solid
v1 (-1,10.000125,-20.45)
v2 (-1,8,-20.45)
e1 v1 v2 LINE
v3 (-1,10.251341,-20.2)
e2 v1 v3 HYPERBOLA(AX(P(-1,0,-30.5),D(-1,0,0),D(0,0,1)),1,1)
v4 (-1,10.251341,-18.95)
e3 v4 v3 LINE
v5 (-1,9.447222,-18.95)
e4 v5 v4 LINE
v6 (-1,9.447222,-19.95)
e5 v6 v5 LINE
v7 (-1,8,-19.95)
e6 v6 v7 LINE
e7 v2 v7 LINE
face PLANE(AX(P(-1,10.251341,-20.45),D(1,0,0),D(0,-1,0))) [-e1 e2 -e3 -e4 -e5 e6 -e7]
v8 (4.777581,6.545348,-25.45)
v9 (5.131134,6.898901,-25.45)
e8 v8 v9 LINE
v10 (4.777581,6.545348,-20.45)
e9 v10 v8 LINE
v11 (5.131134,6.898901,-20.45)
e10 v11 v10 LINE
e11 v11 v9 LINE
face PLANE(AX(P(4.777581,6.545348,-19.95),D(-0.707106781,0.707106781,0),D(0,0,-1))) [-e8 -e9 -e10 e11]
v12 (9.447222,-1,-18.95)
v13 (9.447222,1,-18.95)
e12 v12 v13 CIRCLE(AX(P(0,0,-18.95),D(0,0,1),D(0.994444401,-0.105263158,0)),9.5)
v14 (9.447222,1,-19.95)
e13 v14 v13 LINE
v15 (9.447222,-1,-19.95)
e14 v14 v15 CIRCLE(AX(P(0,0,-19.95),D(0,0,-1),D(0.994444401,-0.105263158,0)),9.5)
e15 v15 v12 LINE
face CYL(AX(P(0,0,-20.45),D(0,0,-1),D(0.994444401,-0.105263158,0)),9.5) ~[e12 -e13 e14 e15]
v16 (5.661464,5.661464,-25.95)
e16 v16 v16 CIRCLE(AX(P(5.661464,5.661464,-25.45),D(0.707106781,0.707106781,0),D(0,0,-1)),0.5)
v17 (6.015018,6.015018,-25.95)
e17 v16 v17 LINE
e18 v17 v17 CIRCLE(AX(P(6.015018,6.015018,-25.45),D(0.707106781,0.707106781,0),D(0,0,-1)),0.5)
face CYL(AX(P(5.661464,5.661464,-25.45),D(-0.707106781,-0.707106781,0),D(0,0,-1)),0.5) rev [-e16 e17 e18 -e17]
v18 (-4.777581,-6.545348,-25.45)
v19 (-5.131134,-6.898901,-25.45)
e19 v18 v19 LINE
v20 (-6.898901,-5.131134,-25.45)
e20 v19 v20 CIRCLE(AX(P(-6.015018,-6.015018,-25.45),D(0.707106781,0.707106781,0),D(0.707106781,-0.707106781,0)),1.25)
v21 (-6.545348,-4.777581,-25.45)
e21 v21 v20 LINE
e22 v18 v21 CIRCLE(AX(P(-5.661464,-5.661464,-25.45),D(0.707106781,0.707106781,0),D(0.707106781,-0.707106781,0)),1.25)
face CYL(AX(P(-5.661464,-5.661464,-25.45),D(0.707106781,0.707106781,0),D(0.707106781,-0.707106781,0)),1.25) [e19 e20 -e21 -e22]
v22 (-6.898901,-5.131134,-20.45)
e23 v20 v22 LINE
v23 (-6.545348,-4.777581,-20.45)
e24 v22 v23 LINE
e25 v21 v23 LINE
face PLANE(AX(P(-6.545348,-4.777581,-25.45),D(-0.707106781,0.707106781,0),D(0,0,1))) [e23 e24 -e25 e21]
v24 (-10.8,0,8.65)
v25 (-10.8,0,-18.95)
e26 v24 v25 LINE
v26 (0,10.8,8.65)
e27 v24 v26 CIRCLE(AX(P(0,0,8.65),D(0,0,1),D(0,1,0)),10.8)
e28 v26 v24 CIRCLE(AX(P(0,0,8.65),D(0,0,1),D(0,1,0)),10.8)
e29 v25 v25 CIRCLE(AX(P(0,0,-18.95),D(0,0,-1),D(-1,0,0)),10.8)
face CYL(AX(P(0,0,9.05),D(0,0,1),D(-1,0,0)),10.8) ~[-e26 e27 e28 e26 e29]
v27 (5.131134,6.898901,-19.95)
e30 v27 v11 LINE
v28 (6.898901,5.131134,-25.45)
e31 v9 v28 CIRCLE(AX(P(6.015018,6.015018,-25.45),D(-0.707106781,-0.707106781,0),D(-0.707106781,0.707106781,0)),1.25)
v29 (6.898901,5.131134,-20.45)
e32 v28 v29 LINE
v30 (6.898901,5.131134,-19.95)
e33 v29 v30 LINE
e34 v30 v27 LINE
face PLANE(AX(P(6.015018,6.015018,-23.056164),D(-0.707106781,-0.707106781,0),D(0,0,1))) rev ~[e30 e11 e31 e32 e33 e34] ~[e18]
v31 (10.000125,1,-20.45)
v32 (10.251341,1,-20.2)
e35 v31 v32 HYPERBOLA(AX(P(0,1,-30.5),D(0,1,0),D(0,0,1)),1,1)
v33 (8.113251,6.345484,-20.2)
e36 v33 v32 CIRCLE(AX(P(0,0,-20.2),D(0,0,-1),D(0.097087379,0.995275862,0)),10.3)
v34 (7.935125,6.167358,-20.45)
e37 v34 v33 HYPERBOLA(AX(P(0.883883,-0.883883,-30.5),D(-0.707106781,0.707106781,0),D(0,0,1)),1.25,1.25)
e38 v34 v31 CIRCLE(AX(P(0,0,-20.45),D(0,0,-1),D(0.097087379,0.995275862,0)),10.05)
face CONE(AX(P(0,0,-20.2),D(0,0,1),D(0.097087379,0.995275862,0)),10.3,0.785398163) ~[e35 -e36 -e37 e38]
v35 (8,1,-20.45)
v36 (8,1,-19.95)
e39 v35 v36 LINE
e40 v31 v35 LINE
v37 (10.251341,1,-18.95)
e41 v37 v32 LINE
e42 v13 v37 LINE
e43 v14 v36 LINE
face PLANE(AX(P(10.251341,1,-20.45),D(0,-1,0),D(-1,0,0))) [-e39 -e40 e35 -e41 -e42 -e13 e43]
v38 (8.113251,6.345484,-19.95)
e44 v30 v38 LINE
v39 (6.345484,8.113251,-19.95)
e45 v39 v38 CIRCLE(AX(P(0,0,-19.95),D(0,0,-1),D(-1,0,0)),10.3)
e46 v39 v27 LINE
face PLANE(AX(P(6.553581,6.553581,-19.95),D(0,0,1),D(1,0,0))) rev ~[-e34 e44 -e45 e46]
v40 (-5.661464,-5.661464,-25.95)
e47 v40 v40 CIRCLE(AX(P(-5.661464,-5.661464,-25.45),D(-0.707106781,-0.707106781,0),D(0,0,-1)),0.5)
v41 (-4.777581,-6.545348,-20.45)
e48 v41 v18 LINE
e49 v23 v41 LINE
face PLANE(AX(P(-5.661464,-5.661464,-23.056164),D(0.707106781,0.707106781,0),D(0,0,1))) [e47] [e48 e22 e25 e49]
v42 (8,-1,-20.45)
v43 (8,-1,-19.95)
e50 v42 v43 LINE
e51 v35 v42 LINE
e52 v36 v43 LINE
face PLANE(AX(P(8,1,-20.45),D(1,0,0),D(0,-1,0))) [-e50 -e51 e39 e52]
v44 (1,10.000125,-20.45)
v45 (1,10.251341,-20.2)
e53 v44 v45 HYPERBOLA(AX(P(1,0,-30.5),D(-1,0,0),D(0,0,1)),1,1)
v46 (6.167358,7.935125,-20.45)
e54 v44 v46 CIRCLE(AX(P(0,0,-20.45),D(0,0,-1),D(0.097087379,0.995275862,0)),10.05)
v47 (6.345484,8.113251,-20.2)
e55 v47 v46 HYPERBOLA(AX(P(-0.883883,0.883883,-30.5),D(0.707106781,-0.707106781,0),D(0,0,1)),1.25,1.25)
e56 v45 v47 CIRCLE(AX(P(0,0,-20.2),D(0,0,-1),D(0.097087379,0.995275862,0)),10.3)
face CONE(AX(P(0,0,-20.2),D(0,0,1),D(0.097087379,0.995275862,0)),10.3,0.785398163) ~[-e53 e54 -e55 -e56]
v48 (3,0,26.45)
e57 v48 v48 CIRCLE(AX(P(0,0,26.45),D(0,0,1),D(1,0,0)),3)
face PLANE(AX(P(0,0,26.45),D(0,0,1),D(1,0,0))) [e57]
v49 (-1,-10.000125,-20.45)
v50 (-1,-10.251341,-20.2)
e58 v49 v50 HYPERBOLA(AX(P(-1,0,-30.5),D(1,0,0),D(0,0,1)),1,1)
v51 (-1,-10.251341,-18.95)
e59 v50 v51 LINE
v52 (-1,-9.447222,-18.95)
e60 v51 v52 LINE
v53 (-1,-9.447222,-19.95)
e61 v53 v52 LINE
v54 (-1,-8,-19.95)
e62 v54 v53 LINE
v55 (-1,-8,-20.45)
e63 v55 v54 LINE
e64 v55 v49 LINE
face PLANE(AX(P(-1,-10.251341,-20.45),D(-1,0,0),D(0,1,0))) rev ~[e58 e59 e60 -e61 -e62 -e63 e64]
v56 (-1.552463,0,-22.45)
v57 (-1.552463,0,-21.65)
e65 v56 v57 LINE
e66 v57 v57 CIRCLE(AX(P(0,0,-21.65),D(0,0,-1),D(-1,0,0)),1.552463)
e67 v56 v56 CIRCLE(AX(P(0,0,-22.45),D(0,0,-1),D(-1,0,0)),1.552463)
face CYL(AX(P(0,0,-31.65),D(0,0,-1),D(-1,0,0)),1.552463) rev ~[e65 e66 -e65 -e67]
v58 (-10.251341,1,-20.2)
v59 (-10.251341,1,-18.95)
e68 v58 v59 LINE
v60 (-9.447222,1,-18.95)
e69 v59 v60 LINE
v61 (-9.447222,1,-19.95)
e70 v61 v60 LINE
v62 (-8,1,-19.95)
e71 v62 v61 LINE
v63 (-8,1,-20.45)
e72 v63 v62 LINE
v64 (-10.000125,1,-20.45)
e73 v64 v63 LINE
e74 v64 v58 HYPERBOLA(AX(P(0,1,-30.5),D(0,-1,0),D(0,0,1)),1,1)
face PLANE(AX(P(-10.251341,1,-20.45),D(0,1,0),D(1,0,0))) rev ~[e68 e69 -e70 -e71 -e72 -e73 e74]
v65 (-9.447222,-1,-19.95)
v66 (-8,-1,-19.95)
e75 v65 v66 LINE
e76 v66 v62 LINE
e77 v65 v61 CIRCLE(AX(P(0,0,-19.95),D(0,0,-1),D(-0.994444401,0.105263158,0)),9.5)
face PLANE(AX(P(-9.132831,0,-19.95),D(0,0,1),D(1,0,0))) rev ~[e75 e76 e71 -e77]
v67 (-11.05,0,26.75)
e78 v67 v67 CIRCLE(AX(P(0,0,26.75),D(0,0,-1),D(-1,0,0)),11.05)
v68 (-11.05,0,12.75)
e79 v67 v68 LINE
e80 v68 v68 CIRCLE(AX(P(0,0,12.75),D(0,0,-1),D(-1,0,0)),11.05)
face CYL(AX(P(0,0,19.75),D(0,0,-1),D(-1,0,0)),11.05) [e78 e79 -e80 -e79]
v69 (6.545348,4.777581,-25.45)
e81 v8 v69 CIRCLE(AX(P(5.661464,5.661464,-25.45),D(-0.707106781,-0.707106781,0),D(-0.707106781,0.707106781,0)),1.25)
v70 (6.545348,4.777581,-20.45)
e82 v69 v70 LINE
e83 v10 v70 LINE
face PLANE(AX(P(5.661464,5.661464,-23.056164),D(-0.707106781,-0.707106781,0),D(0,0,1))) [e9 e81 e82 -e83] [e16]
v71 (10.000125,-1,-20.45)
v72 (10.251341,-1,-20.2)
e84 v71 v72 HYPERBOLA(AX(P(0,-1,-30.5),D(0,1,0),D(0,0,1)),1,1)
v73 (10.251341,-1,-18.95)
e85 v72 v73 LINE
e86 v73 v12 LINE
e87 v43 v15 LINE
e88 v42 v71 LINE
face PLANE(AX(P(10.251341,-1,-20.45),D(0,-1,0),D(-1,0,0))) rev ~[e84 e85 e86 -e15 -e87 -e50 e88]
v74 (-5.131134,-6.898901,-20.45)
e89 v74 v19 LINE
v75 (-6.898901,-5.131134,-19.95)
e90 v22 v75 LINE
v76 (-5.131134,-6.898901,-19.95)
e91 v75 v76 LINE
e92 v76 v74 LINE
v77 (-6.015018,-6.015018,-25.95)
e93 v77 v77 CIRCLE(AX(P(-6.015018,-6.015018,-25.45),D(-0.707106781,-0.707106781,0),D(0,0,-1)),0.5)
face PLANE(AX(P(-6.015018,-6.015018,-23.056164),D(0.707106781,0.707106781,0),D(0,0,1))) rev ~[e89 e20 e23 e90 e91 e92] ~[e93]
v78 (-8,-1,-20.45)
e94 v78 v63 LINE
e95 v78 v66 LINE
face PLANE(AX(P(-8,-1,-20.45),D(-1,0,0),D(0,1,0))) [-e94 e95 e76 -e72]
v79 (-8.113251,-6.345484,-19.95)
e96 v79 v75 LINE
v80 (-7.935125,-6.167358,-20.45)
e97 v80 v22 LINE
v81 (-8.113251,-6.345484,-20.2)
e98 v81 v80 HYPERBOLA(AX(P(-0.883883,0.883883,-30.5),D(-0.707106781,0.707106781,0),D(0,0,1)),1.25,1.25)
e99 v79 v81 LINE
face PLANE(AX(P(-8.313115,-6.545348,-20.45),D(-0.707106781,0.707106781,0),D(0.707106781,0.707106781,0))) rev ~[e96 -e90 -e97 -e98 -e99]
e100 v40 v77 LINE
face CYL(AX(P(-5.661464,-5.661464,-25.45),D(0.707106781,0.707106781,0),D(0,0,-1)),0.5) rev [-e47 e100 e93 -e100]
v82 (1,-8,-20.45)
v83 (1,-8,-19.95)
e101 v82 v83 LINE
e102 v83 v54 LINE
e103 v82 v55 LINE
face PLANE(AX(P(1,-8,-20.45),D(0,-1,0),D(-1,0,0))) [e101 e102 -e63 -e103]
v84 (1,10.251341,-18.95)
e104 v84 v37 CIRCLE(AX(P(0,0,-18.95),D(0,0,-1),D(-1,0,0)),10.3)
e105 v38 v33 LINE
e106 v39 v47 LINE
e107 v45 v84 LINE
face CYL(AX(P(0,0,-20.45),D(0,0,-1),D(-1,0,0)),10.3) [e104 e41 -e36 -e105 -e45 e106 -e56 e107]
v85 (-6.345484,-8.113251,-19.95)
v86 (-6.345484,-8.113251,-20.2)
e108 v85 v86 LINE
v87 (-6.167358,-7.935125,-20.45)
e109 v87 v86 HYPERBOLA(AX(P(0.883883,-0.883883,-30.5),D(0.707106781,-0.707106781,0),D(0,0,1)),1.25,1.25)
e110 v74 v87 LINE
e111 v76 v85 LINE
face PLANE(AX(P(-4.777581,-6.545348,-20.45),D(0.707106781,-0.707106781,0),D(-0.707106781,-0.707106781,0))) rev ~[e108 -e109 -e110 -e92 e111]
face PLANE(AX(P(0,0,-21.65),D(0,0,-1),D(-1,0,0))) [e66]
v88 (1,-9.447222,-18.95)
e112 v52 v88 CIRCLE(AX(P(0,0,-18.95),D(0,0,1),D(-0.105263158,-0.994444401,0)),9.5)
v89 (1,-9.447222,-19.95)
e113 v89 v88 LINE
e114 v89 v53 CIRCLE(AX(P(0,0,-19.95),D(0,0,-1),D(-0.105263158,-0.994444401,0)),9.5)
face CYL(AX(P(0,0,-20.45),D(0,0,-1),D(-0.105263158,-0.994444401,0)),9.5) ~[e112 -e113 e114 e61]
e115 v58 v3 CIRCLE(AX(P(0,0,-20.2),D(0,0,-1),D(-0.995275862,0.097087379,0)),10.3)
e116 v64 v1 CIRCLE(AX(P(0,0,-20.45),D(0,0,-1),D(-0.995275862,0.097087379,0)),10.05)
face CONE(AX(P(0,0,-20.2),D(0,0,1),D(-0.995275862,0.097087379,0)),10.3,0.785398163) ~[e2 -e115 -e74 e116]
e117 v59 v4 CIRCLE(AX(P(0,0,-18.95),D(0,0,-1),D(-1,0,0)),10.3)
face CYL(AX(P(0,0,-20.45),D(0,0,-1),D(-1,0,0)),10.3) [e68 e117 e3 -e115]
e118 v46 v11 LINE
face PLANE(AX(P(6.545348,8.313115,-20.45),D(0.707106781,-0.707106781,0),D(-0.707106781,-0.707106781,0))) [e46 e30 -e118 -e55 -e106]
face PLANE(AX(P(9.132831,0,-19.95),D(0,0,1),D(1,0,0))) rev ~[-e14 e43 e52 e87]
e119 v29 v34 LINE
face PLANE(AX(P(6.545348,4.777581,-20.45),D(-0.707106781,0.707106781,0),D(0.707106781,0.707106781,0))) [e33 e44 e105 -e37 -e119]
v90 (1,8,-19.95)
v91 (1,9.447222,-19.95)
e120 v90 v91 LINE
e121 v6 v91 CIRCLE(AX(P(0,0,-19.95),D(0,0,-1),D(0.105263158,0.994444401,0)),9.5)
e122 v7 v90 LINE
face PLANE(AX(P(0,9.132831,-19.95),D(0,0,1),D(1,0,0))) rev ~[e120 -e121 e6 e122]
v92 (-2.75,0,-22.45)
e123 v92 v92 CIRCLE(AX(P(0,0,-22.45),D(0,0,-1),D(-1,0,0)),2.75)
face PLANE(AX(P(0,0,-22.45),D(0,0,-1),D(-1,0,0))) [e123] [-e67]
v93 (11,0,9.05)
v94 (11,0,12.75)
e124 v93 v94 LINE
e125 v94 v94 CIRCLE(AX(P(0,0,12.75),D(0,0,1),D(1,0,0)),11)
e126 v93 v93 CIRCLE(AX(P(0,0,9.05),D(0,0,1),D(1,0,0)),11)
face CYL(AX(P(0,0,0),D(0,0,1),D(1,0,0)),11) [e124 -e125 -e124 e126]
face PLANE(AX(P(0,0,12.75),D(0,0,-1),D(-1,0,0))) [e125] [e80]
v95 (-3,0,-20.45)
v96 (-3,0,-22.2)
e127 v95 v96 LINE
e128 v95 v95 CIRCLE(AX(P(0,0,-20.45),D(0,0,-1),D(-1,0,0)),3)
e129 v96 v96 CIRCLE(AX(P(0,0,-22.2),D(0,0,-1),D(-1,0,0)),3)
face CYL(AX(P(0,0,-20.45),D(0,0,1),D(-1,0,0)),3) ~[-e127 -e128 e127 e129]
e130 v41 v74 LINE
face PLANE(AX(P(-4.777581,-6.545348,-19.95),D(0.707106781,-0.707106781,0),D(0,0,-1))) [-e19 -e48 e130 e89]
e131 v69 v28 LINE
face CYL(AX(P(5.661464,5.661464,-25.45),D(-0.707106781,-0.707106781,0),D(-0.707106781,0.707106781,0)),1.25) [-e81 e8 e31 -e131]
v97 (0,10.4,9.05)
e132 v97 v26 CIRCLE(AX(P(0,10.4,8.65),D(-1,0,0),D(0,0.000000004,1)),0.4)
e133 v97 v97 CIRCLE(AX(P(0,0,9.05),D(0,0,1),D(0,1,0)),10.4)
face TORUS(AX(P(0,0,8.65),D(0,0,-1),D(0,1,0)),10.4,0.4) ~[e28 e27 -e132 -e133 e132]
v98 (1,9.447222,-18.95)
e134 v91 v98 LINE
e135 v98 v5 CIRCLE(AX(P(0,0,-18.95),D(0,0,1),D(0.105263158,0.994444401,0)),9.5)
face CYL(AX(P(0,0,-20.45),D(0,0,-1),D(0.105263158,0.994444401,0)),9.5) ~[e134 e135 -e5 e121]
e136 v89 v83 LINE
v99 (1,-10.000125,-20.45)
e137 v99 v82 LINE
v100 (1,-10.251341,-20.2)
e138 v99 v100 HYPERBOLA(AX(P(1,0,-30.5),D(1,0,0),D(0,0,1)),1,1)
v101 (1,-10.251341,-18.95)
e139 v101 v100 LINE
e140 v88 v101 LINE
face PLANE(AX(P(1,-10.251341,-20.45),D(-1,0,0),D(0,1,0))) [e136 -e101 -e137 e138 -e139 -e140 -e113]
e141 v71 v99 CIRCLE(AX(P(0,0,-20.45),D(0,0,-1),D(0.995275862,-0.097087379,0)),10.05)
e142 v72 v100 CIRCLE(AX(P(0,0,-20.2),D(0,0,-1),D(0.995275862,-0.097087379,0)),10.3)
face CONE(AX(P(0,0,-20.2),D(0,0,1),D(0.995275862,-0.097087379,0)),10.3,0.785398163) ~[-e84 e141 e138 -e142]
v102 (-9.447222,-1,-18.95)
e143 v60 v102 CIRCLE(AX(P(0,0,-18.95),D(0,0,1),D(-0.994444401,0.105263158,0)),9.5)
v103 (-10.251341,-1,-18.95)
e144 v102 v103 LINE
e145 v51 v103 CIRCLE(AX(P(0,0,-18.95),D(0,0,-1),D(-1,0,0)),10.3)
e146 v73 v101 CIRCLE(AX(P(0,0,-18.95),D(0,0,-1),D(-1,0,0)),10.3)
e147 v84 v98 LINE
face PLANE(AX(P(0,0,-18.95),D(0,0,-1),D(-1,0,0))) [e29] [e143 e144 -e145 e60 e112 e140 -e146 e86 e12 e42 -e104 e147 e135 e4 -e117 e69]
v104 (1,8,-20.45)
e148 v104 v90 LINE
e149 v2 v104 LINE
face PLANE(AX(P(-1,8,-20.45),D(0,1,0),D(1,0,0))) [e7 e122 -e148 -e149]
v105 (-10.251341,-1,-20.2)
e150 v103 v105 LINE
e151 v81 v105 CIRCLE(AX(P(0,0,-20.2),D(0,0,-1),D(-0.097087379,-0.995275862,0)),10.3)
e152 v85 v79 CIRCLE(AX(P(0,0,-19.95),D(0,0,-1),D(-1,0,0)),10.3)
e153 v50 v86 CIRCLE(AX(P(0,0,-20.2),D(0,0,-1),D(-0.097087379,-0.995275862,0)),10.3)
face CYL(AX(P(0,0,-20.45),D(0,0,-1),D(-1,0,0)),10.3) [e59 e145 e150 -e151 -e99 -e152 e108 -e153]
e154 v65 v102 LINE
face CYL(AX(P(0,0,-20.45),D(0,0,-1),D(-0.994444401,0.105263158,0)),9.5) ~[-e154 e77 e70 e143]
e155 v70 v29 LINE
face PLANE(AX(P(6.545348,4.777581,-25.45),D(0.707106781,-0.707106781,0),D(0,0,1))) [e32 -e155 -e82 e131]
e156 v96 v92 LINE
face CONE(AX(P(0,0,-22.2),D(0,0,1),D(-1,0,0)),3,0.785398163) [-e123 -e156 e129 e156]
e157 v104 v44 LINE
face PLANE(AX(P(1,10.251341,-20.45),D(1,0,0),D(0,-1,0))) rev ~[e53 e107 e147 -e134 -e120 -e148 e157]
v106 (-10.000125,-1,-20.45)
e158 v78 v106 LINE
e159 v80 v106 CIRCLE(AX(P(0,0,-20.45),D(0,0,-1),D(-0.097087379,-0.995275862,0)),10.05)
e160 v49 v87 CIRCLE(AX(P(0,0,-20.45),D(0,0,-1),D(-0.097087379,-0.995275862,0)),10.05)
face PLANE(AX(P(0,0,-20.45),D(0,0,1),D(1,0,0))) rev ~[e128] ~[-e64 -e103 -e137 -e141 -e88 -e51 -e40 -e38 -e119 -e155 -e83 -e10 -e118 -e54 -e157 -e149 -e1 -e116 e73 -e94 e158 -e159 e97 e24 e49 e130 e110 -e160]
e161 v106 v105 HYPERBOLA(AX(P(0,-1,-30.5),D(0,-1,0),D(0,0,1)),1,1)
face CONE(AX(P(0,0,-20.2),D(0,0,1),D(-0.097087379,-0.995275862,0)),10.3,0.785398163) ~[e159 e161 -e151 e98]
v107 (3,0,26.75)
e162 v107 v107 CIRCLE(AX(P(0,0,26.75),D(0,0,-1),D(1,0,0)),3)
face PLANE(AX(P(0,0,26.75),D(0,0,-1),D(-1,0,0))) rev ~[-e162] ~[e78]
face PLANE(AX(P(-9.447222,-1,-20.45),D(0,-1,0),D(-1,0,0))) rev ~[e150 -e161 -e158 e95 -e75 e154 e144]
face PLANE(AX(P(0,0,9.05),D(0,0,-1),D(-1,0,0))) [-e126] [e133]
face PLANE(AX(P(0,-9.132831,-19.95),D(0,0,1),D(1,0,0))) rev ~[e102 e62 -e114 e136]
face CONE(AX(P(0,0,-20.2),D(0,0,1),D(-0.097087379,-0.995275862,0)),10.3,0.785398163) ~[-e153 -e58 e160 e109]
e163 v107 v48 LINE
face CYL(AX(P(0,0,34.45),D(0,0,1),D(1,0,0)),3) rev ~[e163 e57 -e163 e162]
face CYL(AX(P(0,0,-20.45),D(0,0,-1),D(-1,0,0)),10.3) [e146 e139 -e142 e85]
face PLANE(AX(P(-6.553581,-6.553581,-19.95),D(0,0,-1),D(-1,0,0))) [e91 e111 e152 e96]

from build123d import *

# Parameters (mm, degrees)
SKETCH1_R           = 11
BOSS_EXTRUDE1_DEPTH = 20.45
SKETCH2_R           = 11
SKETCH2_R_2         = 10.8
CUT_EXTRUDE1_DEPTH  = 30.5
SKETCH5_R           = 0.8
CUT_EXTRUDE2_DEPTH  = 3
BOSS_EXTRUDE2_DEPTH = 2
SKETCH7_R           = 3
BOSS_EXTRUDE3_DEPTH = 12
CUT_EXTRUDE3_DEPTH  = 1
CIRPATTERN1_COUNT   = 4
CIRPATTERN2_COUNT   = 4
SKETCH11_R          = 5
BOSS_EXTRUDE4_DEPTH = 0.25
SKETCH12_R          = 11.05
BOSS_EXTRUDE5_DEPTH = 7
SKETCH14_R          = 1.0375
CUT_EXTRUDE4_DEPTH  = 3
SKETCH16_R          = 10.8
SKETCH16_R_2        = 10.3
CUT_EXTRUDE5_DEPTH  = 1.5
CUT_EXTRUDE6_DEPTH  = 0.5
CUT_EXTRUDE7_DEPTH  = 1.5
CHAMFER1_SIZE       = 0.25
CUT_EXTRUDE8_DEPTH  = 0.5
SKETCH20_R          = 0.5
BOSS_EXTRUDE7_DEPTH = 0.5
CIRPATTERN4_COUNT   = 2
SKETCH22_R          = 3
BOSS_EXTRUDE8_DEPTH = 2
SKETCH23_R          = 1
BOSS_EXTRUDE9_DEPTH = 9.2
CHAMFER2_SIZE       = 0.25
SKETCH24_R          = 1.552462654
CUT_EXTRUDE9_DEPTH  = 10
SKETCH25_R          = 3
CUT_EXTRUDE10_DEPTH = 8


with BuildPart() as part:
    # Sketch1 → Boss-Extrude1 (new body, symmetric)
    with BuildSketch(Plane.XY):
        Circle(SKETCH1_R)
    extrude(amount=BOSS_EXTRUDE1_DEPTH, both=True)

    # Sketch2 → Cut-Extrude1 (cut, through all)
    with BuildSketch(Plane(origin=(0, 0, 9.05), x_dir=(-1, 0, 0), z_dir=(0, 0, -1))):
        Circle(SKETCH2_R)
        Circle(SKETCH2_R_2, mode=Mode.SUBTRACT)
    extrude(amount=CUT_EXTRUDE1_DEPTH, mode=Mode.SUBTRACT)

    # Sketch5 → Cut-Extrude2 (cut)
    with BuildSketch(Plane.XY.offset(20.45)):
        with Locations((-6.363961031, 6.363961031)):
            Circle(SKETCH5_R)
        with Locations((6.363961031, 6.363961031)):
            Circle(SKETCH5_R)
        with Locations((6.363961031, -6.363961031)):
            Circle(SKETCH5_R)
        with Locations((-6.363961031, -6.363961031)):
            Circle(SKETCH5_R)
        with BuildLine():
            Line((-1.5, 9), (-1.5, 10.897247359))
            ThreePointArc((-1.5, 10.897247359), (0, 11), (1.5, 10.897247359))
            Line((1.5, 10.897247359), (1.5, 9))
            ThreePointArc((1.5, 9), (0, 7.5), (-1.5, 9))
        make_face()
        with BuildLine():
            Line((9, 1.5), (10.897247359, 1.5))
            ThreePointArc((10.897247359, 1.5), (11, 0), (10.897247359, -1.5))
            Line((10.897247359, -1.5), (9, -1.5))
            ThreePointArc((9, -1.5), (7.5, 0), (9, 1.5))
        make_face()
        with BuildLine():
            Line((1.5, -9), (1.5, -10.897247359))
            ThreePointArc((1.5, -10.897247359), (0, -11), (-1.5, -10.897247359))
            Line((-1.5, -10.897247359), (-1.5, -9))
            ThreePointArc((-1.5, -9), (0, -7.5), (1.5, -9))
        make_face()
        with BuildLine():
            Line((-9, -1.5), (-10.897247359, -1.5))
            ThreePointArc((-10.897247359, -1.5), (-11, 0), (-10.897247359, 1.5))
            Line((-10.897247359, 1.5), (-9, 1.5))
            ThreePointArc((-9, 1.5), (-7.5, 0), (-9, -1.5))
        make_face()
    extrude(amount=-CUT_EXTRUDE2_DEPTH, mode=Mode.SUBTRACT)

    # Sketch3 → Cut-Revolve3 (revolve, cut)
    with BuildSketch(Plane(origin=(0, 0, 0), x_dir=(0, 0, -1), z_dir=(1, 0, 0))):
        with BuildLine():
            ThreePointArc((-9.05, 10.4), (-8.932842712, 10.682842712), (-8.65, 10.8))
            Line((-8.65, 10.8), (-9.05, 10.8))
            Line((-9.05, 10.8), (-9.05, 10.4))
        make_face()
    revolve(axis=Axis((0, 0, -27.758521673), (0, 0, 1)), mode=Mode.SUBTRACT)

    # Sketch6 → Boss-Extrude2 (add)
    with BuildSketch(Plane.XY.offset(20.45)):
        with BuildLine():
            Line((-6, -3.605551275), (-6, 3.605551275))
            ThreePointArc((-6, 3.605551275), (0, 7), (6, 3.605551275))
            Line((6, 3.605551275), (6, -3.605551275))
            ThreePointArc((6, -3.605551275), (0, -7), (-6, -3.605551275))
        make_face()
    extrude(amount=BOSS_EXTRUDE2_DEPTH)

    # Sketch7 → Boss-Extrude3 (add)
    with BuildSketch(Plane.XY.offset(22.45)):
        Circle(SKETCH7_R)
    extrude(amount=BOSS_EXTRUDE3_DEPTH)

    # Sketch9 → Revolve1 (revolve)
    with BuildSketch(Plane(origin=(0, 9, 0), x_dir=(1, 0, 0), z_dir=(0, 1, 0))):
        with BuildLine():
            Line((0, -17.45), (0, -18.65))
            Line((0, -18.65), (0.85, -18.65))
            ThreePointArc((0.85, -18.65), (1.168198052, -18.518198052), (1.3, -18.2))
            Line((1.3, -18.2), (1.3, -17.45))
            Line((1.3, -17.45), (0, -17.45))
        make_face()
    revolve1 = revolve(axis=Axis((0, 9, 17.45), (0, 0, 1)))

    # Sketch10 → Cut-Extrude3 (cut)
    with BuildSketch(Plane.XY.offset(18.65)):
        with BuildLine():
            Line((0.15, 9.15), (1.291317157, 9.15))
            ThreePointArc((1.291317157, 9.15), (1.3, 9), (1.291317157, 8.85))
            Line((1.291317157, 8.85), (0.15, 8.85))
            Line((0.15, 8.85), (-0.15, 8.85))
            Line((-0.15, 8.85), (-1.291317157, 8.85))
            ThreePointArc((-1.291317157, 8.85), (-1.3, 9), (-1.291317157, 9.15))
            Line((-1.291317157, 9.15), (-0.15, 9.15))
            Line((-0.15, 9.15), (0.15, 9.15))
        make_face()
    cut_extrude3 = extrude(amount=-CUT_EXTRUDE3_DEPTH, mode=Mode.SUBTRACT)

    # CirPattern1: Revolve1 ×4 about axis
    cirpattern1_axis = Axis((0, 0, 0), (0, 0, 1))
    for i in range(1, CIRPATTERN1_COUNT):
        add(revolve1.rotate(cirpattern1_axis, i * 360 / CIRPATTERN1_COUNT))

    # CirPattern2: Cut-Extrude3 ×4 about axis
    cirpattern2_axis = Axis((0, 0, -27.758521673), (0, 0, 1))
    for i in range(1, CIRPATTERN2_COUNT):
        add(cut_extrude3.rotate(cirpattern2_axis, i * 360 / CIRPATTERN2_COUNT), mode=Mode.SUBTRACT)

    # Sketch11 → Boss-Extrude4 (add)
    with BuildSketch(Plane.XY.offset(22.45)):
        Circle(SKETCH11_R)
    extrude(amount=BOSS_EXTRUDE4_DEPTH)

    # Sketch12 → Boss-Extrude5 (add, symmetric)
    with BuildSketch(Plane(origin=(0, 0, 19.75), x_dir=(-1, 0, 0), z_dir=(0, 0, -1))):
        Circle(SKETCH12_R)
    extrude(amount=BOSS_EXTRUDE5_DEPTH, both=True)

    # Sketch14 → Cut-Extrude4 (cut, symmetric)
    with BuildSketch(Plane(origin=(0, 0, 0), x_dir=(0, 0, -1), z_dir=(1, 0, 0))):
        with Locations((-30.35, 0)):
            Circle(SKETCH14_R)
    extrude(amount=CUT_EXTRUDE4_DEPTH, both=True, mode=Mode.SUBTRACT)

    # Sketch16 → Cut-Extrude5 (cut)
    with BuildSketch(Plane(origin=(0, 0, -20.45), x_dir=(-1, 0, 0), z_dir=(0, 0, -1))):
        Circle(SKETCH16_R)
        Circle(SKETCH16_R_2, mode=Mode.SUBTRACT)
    extrude(amount=-CUT_EXTRUDE5_DEPTH, mode=Mode.SUBTRACT)

    # Sketch17 → Cut-Extrude6 (cut)
    with BuildSketch(Plane(origin=(0, 0, -20.45), x_dir=(-1, 0, 0), z_dir=(0, 0, -1))):
        with BuildLine():
            Line((0, 8), (-1, 8))
            Line((-1, 8), (-1, 10.251341376))
            ThreePointArc((-1, 10.251341376), (0, 10.3), (1, 10.251341376))
            Line((1, 10.251341376), (1, 8))
            Line((1, 8), (0, 8))
        make_face()
        with BuildLine():
            Line((8, 1), (10.251341376, 1))
            ThreePointArc((10.251341376, 1), (10.3, 0), (10.251341376, -1))
            Line((10.251341376, -1), (8, -1))
            Line((8, -1), (8, 0))
            Line((8, 0), (8, 1))
        make_face()
        with BuildLine():
            Line((1, -8), (1, -10.251341376))
            ThreePointArc((1, -10.251341376), (0, -10.3), (-1, -10.251341376))
            Line((-1, -10.251341376), (-1, -8))
            Line((-1, -8), (0, -8))
            Line((0, -8), (1, -8))
        make_face()
        with BuildLine():
            Line((-8, -1), (-10.251341376, -1))
            ThreePointArc((-10.251341376, -1), (-10.3, 0), (-10.251341376, 1))
            Line((-10.251341376, 1), (-8, 1))
            Line((-8, 1), (-8, 0))
            Line((-8, 0), (-8, -1))
        make_face()
    extrude(amount=-CUT_EXTRUDE6_DEPTH, mode=Mode.SUBTRACT)

    # Sketch18 → Cut-Extrude7 (cut)
    with BuildSketch(Plane(origin=(0, 0, -20.45), x_dir=(-1, 0, 0), z_dir=(0, 0, -1))):
        with BuildLine():
            Line((-1, 10.251341376), (-1, 9.447221814))
            ThreePointArc((-1, 9.447221814), (0, 9.5), (1, 9.447221814))
            Line((1, 9.447221814), (1, 10.251341376))
            ThreePointArc((1, 10.251341376), (0, 10.3), (-1, 10.251341376))
        make_face()
        with BuildLine():
            Line((10.251341376, 1), (9.447221814, 1))
            ThreePointArc((9.447221814, 1), (9.5, 0), (9.447221814, -1))
            Line((9.447221814, -1), (10.251341376, -1))
            ThreePointArc((10.251341376, -1), (10.3, 0), (10.251341376, 1))
        make_face()
        with BuildLine():
            Line((1, -10.251341376), (1, -9.447221814))
            ThreePointArc((1, -9.447221814), (0, -9.5), (-1, -9.447221814))
            Line((-1, -9.447221814), (-1, -10.251341376))
            ThreePointArc((-1, -10.251341376), (0, -10.3), (1, -10.251341376))
        make_face()
        with BuildLine():
            Line((-10.251341376, -1), (-9.447221814, -1))
            ThreePointArc((-9.447221814, -1), (-9.5, 0), (-9.447221814, 1))
            Line((-9.447221814, 1), (-10.251341376, 1))
            ThreePointArc((-10.251341376, 1), (-10.3, 0), (-10.251341376, -1))
        make_face()
    extrude(amount=-CUT_EXTRUDE7_DEPTH, mode=Mode.SUBTRACT)

    # Chamfer1
    chamfer1_edges = [part.edges().sort_by_distance(p)[0] for p in [
        (-7.283199846, 7.283199846, -20.45),
        (7.283199846, 7.283199846, -20.45),
        (7.283199846, -7.283199846, -20.45),
        (-7.283199846, -7.283199846, -20.45),
    ]]
    chamfer(chamfer1_edges, length=CHAMFER1_SIZE)

    # Sketch19 → Cut-Extrude8 (cut)
    with BuildSketch(Plane(origin=(0, 0, -20.45), x_dir=(-1, 0, 0), z_dir=(0, 0, -1))):
        with BuildLine():
            Line((-6.545347941, 4.777580988), (-8.313114894, 6.545347941))
            ThreePointArc((-8.313114894, 6.545347941), (-7.481626123, 7.481626123), (-6.545347941, 8.313114894))
            Line((-6.545347941, 8.313114894), (-4.777580988, 6.545347941))
            Line((-4.777580988, 6.545347941), (-6.545347941, 4.777580988))
        make_face()
        with BuildLine():
            Line((4.777580988, -6.545347941), (6.545347941, -8.313114894))
            ThreePointArc((6.545347941, -8.313114894), (7.481626123, -7.481626123), (8.313114894, -6.545347941))
            Line((8.313114894, -6.545347941), (6.545347941, -4.777580988))
            Line((6.545347941, -4.777580988), (4.777580988, -6.545347941))
        make_face()
    extrude(amount=-CUT_EXTRUDE8_DEPTH, mode=Mode.SUBTRACT)

    # Sketch20 → Boss-Extrude7 (add)
    with BuildSketch(Plane(origin=(5.661464464, 5.661464464, 0), x_dir=(0, 0, -1), z_dir=(0.707106781, 0.707106781, 0))):
        with BuildLine():
            Line((19.95, 1.25), (25.45, 1.25))
            ThreePointArc((25.45, 1.25), (26.7, 0), (25.45, -1.25))
            Line((25.45, -1.25), (19.95, -1.25))
            Line((19.95, -1.25), (19.95, 1.25))
        make_face()
        with Locations((25.45, 0)):
            Circle(SKETCH20_R, mode=Mode.SUBTRACT)
    boss_extrude7 = extrude(amount=BOSS_EXTRUDE7_DEPTH)

    # CirPattern4: Boss-Extrude7 ×2 about axis
    cirpattern4_axis = Axis((0, 0, 0), (0, 0, 1))
    for i in range(1, CIRPATTERN4_COUNT):
        add(boss_extrude7.rotate(cirpattern4_axis, i * 360 / CIRPATTERN4_COUNT))

    # Sketch22 → Boss-Extrude8 (add)
    with BuildSketch(Plane(origin=(0, 0, -20.45), x_dir=(-1, 0, 0), z_dir=(0, 0, -1))):
        Circle(SKETCH22_R)
    extrude(amount=BOSS_EXTRUDE8_DEPTH)

    # Sketch23 → Boss-Extrude9 (add)
    with BuildSketch(Plane(origin=(0, 0, -22.45), x_dir=(-1, 0, 0), z_dir=(0, 0, -1))):
        Circle(SKETCH23_R)
    extrude(amount=BOSS_EXTRUDE9_DEPTH)

    # Chamfer2
    chamfer2_edges = [part.edges().sort_by_distance(p)[0] for p in [
        (3, 0, -22.45),
    ]]
    chamfer(chamfer2_edges, length=CHAMFER2_SIZE)

    # Sketch24 → Cut-Extrude9 (cut)
    with BuildSketch(Plane(origin=(0, 0, -31.65), x_dir=(-1, 0, 0), z_dir=(0, 0, -1))):
        Circle(SKETCH24_R)
    extrude(amount=-CUT_EXTRUDE9_DEPTH, mode=Mode.SUBTRACT)

    # Sketch25 → Cut-Extrude10 (cut)
    with BuildSketch(Plane.XY.offset(34.45)):
        Circle(SKETCH25_R)
    extrude(amount=-CUT_EXTRUDE10_DEPTH, mode=Mode.SUBTRACT)


solid = part.part
